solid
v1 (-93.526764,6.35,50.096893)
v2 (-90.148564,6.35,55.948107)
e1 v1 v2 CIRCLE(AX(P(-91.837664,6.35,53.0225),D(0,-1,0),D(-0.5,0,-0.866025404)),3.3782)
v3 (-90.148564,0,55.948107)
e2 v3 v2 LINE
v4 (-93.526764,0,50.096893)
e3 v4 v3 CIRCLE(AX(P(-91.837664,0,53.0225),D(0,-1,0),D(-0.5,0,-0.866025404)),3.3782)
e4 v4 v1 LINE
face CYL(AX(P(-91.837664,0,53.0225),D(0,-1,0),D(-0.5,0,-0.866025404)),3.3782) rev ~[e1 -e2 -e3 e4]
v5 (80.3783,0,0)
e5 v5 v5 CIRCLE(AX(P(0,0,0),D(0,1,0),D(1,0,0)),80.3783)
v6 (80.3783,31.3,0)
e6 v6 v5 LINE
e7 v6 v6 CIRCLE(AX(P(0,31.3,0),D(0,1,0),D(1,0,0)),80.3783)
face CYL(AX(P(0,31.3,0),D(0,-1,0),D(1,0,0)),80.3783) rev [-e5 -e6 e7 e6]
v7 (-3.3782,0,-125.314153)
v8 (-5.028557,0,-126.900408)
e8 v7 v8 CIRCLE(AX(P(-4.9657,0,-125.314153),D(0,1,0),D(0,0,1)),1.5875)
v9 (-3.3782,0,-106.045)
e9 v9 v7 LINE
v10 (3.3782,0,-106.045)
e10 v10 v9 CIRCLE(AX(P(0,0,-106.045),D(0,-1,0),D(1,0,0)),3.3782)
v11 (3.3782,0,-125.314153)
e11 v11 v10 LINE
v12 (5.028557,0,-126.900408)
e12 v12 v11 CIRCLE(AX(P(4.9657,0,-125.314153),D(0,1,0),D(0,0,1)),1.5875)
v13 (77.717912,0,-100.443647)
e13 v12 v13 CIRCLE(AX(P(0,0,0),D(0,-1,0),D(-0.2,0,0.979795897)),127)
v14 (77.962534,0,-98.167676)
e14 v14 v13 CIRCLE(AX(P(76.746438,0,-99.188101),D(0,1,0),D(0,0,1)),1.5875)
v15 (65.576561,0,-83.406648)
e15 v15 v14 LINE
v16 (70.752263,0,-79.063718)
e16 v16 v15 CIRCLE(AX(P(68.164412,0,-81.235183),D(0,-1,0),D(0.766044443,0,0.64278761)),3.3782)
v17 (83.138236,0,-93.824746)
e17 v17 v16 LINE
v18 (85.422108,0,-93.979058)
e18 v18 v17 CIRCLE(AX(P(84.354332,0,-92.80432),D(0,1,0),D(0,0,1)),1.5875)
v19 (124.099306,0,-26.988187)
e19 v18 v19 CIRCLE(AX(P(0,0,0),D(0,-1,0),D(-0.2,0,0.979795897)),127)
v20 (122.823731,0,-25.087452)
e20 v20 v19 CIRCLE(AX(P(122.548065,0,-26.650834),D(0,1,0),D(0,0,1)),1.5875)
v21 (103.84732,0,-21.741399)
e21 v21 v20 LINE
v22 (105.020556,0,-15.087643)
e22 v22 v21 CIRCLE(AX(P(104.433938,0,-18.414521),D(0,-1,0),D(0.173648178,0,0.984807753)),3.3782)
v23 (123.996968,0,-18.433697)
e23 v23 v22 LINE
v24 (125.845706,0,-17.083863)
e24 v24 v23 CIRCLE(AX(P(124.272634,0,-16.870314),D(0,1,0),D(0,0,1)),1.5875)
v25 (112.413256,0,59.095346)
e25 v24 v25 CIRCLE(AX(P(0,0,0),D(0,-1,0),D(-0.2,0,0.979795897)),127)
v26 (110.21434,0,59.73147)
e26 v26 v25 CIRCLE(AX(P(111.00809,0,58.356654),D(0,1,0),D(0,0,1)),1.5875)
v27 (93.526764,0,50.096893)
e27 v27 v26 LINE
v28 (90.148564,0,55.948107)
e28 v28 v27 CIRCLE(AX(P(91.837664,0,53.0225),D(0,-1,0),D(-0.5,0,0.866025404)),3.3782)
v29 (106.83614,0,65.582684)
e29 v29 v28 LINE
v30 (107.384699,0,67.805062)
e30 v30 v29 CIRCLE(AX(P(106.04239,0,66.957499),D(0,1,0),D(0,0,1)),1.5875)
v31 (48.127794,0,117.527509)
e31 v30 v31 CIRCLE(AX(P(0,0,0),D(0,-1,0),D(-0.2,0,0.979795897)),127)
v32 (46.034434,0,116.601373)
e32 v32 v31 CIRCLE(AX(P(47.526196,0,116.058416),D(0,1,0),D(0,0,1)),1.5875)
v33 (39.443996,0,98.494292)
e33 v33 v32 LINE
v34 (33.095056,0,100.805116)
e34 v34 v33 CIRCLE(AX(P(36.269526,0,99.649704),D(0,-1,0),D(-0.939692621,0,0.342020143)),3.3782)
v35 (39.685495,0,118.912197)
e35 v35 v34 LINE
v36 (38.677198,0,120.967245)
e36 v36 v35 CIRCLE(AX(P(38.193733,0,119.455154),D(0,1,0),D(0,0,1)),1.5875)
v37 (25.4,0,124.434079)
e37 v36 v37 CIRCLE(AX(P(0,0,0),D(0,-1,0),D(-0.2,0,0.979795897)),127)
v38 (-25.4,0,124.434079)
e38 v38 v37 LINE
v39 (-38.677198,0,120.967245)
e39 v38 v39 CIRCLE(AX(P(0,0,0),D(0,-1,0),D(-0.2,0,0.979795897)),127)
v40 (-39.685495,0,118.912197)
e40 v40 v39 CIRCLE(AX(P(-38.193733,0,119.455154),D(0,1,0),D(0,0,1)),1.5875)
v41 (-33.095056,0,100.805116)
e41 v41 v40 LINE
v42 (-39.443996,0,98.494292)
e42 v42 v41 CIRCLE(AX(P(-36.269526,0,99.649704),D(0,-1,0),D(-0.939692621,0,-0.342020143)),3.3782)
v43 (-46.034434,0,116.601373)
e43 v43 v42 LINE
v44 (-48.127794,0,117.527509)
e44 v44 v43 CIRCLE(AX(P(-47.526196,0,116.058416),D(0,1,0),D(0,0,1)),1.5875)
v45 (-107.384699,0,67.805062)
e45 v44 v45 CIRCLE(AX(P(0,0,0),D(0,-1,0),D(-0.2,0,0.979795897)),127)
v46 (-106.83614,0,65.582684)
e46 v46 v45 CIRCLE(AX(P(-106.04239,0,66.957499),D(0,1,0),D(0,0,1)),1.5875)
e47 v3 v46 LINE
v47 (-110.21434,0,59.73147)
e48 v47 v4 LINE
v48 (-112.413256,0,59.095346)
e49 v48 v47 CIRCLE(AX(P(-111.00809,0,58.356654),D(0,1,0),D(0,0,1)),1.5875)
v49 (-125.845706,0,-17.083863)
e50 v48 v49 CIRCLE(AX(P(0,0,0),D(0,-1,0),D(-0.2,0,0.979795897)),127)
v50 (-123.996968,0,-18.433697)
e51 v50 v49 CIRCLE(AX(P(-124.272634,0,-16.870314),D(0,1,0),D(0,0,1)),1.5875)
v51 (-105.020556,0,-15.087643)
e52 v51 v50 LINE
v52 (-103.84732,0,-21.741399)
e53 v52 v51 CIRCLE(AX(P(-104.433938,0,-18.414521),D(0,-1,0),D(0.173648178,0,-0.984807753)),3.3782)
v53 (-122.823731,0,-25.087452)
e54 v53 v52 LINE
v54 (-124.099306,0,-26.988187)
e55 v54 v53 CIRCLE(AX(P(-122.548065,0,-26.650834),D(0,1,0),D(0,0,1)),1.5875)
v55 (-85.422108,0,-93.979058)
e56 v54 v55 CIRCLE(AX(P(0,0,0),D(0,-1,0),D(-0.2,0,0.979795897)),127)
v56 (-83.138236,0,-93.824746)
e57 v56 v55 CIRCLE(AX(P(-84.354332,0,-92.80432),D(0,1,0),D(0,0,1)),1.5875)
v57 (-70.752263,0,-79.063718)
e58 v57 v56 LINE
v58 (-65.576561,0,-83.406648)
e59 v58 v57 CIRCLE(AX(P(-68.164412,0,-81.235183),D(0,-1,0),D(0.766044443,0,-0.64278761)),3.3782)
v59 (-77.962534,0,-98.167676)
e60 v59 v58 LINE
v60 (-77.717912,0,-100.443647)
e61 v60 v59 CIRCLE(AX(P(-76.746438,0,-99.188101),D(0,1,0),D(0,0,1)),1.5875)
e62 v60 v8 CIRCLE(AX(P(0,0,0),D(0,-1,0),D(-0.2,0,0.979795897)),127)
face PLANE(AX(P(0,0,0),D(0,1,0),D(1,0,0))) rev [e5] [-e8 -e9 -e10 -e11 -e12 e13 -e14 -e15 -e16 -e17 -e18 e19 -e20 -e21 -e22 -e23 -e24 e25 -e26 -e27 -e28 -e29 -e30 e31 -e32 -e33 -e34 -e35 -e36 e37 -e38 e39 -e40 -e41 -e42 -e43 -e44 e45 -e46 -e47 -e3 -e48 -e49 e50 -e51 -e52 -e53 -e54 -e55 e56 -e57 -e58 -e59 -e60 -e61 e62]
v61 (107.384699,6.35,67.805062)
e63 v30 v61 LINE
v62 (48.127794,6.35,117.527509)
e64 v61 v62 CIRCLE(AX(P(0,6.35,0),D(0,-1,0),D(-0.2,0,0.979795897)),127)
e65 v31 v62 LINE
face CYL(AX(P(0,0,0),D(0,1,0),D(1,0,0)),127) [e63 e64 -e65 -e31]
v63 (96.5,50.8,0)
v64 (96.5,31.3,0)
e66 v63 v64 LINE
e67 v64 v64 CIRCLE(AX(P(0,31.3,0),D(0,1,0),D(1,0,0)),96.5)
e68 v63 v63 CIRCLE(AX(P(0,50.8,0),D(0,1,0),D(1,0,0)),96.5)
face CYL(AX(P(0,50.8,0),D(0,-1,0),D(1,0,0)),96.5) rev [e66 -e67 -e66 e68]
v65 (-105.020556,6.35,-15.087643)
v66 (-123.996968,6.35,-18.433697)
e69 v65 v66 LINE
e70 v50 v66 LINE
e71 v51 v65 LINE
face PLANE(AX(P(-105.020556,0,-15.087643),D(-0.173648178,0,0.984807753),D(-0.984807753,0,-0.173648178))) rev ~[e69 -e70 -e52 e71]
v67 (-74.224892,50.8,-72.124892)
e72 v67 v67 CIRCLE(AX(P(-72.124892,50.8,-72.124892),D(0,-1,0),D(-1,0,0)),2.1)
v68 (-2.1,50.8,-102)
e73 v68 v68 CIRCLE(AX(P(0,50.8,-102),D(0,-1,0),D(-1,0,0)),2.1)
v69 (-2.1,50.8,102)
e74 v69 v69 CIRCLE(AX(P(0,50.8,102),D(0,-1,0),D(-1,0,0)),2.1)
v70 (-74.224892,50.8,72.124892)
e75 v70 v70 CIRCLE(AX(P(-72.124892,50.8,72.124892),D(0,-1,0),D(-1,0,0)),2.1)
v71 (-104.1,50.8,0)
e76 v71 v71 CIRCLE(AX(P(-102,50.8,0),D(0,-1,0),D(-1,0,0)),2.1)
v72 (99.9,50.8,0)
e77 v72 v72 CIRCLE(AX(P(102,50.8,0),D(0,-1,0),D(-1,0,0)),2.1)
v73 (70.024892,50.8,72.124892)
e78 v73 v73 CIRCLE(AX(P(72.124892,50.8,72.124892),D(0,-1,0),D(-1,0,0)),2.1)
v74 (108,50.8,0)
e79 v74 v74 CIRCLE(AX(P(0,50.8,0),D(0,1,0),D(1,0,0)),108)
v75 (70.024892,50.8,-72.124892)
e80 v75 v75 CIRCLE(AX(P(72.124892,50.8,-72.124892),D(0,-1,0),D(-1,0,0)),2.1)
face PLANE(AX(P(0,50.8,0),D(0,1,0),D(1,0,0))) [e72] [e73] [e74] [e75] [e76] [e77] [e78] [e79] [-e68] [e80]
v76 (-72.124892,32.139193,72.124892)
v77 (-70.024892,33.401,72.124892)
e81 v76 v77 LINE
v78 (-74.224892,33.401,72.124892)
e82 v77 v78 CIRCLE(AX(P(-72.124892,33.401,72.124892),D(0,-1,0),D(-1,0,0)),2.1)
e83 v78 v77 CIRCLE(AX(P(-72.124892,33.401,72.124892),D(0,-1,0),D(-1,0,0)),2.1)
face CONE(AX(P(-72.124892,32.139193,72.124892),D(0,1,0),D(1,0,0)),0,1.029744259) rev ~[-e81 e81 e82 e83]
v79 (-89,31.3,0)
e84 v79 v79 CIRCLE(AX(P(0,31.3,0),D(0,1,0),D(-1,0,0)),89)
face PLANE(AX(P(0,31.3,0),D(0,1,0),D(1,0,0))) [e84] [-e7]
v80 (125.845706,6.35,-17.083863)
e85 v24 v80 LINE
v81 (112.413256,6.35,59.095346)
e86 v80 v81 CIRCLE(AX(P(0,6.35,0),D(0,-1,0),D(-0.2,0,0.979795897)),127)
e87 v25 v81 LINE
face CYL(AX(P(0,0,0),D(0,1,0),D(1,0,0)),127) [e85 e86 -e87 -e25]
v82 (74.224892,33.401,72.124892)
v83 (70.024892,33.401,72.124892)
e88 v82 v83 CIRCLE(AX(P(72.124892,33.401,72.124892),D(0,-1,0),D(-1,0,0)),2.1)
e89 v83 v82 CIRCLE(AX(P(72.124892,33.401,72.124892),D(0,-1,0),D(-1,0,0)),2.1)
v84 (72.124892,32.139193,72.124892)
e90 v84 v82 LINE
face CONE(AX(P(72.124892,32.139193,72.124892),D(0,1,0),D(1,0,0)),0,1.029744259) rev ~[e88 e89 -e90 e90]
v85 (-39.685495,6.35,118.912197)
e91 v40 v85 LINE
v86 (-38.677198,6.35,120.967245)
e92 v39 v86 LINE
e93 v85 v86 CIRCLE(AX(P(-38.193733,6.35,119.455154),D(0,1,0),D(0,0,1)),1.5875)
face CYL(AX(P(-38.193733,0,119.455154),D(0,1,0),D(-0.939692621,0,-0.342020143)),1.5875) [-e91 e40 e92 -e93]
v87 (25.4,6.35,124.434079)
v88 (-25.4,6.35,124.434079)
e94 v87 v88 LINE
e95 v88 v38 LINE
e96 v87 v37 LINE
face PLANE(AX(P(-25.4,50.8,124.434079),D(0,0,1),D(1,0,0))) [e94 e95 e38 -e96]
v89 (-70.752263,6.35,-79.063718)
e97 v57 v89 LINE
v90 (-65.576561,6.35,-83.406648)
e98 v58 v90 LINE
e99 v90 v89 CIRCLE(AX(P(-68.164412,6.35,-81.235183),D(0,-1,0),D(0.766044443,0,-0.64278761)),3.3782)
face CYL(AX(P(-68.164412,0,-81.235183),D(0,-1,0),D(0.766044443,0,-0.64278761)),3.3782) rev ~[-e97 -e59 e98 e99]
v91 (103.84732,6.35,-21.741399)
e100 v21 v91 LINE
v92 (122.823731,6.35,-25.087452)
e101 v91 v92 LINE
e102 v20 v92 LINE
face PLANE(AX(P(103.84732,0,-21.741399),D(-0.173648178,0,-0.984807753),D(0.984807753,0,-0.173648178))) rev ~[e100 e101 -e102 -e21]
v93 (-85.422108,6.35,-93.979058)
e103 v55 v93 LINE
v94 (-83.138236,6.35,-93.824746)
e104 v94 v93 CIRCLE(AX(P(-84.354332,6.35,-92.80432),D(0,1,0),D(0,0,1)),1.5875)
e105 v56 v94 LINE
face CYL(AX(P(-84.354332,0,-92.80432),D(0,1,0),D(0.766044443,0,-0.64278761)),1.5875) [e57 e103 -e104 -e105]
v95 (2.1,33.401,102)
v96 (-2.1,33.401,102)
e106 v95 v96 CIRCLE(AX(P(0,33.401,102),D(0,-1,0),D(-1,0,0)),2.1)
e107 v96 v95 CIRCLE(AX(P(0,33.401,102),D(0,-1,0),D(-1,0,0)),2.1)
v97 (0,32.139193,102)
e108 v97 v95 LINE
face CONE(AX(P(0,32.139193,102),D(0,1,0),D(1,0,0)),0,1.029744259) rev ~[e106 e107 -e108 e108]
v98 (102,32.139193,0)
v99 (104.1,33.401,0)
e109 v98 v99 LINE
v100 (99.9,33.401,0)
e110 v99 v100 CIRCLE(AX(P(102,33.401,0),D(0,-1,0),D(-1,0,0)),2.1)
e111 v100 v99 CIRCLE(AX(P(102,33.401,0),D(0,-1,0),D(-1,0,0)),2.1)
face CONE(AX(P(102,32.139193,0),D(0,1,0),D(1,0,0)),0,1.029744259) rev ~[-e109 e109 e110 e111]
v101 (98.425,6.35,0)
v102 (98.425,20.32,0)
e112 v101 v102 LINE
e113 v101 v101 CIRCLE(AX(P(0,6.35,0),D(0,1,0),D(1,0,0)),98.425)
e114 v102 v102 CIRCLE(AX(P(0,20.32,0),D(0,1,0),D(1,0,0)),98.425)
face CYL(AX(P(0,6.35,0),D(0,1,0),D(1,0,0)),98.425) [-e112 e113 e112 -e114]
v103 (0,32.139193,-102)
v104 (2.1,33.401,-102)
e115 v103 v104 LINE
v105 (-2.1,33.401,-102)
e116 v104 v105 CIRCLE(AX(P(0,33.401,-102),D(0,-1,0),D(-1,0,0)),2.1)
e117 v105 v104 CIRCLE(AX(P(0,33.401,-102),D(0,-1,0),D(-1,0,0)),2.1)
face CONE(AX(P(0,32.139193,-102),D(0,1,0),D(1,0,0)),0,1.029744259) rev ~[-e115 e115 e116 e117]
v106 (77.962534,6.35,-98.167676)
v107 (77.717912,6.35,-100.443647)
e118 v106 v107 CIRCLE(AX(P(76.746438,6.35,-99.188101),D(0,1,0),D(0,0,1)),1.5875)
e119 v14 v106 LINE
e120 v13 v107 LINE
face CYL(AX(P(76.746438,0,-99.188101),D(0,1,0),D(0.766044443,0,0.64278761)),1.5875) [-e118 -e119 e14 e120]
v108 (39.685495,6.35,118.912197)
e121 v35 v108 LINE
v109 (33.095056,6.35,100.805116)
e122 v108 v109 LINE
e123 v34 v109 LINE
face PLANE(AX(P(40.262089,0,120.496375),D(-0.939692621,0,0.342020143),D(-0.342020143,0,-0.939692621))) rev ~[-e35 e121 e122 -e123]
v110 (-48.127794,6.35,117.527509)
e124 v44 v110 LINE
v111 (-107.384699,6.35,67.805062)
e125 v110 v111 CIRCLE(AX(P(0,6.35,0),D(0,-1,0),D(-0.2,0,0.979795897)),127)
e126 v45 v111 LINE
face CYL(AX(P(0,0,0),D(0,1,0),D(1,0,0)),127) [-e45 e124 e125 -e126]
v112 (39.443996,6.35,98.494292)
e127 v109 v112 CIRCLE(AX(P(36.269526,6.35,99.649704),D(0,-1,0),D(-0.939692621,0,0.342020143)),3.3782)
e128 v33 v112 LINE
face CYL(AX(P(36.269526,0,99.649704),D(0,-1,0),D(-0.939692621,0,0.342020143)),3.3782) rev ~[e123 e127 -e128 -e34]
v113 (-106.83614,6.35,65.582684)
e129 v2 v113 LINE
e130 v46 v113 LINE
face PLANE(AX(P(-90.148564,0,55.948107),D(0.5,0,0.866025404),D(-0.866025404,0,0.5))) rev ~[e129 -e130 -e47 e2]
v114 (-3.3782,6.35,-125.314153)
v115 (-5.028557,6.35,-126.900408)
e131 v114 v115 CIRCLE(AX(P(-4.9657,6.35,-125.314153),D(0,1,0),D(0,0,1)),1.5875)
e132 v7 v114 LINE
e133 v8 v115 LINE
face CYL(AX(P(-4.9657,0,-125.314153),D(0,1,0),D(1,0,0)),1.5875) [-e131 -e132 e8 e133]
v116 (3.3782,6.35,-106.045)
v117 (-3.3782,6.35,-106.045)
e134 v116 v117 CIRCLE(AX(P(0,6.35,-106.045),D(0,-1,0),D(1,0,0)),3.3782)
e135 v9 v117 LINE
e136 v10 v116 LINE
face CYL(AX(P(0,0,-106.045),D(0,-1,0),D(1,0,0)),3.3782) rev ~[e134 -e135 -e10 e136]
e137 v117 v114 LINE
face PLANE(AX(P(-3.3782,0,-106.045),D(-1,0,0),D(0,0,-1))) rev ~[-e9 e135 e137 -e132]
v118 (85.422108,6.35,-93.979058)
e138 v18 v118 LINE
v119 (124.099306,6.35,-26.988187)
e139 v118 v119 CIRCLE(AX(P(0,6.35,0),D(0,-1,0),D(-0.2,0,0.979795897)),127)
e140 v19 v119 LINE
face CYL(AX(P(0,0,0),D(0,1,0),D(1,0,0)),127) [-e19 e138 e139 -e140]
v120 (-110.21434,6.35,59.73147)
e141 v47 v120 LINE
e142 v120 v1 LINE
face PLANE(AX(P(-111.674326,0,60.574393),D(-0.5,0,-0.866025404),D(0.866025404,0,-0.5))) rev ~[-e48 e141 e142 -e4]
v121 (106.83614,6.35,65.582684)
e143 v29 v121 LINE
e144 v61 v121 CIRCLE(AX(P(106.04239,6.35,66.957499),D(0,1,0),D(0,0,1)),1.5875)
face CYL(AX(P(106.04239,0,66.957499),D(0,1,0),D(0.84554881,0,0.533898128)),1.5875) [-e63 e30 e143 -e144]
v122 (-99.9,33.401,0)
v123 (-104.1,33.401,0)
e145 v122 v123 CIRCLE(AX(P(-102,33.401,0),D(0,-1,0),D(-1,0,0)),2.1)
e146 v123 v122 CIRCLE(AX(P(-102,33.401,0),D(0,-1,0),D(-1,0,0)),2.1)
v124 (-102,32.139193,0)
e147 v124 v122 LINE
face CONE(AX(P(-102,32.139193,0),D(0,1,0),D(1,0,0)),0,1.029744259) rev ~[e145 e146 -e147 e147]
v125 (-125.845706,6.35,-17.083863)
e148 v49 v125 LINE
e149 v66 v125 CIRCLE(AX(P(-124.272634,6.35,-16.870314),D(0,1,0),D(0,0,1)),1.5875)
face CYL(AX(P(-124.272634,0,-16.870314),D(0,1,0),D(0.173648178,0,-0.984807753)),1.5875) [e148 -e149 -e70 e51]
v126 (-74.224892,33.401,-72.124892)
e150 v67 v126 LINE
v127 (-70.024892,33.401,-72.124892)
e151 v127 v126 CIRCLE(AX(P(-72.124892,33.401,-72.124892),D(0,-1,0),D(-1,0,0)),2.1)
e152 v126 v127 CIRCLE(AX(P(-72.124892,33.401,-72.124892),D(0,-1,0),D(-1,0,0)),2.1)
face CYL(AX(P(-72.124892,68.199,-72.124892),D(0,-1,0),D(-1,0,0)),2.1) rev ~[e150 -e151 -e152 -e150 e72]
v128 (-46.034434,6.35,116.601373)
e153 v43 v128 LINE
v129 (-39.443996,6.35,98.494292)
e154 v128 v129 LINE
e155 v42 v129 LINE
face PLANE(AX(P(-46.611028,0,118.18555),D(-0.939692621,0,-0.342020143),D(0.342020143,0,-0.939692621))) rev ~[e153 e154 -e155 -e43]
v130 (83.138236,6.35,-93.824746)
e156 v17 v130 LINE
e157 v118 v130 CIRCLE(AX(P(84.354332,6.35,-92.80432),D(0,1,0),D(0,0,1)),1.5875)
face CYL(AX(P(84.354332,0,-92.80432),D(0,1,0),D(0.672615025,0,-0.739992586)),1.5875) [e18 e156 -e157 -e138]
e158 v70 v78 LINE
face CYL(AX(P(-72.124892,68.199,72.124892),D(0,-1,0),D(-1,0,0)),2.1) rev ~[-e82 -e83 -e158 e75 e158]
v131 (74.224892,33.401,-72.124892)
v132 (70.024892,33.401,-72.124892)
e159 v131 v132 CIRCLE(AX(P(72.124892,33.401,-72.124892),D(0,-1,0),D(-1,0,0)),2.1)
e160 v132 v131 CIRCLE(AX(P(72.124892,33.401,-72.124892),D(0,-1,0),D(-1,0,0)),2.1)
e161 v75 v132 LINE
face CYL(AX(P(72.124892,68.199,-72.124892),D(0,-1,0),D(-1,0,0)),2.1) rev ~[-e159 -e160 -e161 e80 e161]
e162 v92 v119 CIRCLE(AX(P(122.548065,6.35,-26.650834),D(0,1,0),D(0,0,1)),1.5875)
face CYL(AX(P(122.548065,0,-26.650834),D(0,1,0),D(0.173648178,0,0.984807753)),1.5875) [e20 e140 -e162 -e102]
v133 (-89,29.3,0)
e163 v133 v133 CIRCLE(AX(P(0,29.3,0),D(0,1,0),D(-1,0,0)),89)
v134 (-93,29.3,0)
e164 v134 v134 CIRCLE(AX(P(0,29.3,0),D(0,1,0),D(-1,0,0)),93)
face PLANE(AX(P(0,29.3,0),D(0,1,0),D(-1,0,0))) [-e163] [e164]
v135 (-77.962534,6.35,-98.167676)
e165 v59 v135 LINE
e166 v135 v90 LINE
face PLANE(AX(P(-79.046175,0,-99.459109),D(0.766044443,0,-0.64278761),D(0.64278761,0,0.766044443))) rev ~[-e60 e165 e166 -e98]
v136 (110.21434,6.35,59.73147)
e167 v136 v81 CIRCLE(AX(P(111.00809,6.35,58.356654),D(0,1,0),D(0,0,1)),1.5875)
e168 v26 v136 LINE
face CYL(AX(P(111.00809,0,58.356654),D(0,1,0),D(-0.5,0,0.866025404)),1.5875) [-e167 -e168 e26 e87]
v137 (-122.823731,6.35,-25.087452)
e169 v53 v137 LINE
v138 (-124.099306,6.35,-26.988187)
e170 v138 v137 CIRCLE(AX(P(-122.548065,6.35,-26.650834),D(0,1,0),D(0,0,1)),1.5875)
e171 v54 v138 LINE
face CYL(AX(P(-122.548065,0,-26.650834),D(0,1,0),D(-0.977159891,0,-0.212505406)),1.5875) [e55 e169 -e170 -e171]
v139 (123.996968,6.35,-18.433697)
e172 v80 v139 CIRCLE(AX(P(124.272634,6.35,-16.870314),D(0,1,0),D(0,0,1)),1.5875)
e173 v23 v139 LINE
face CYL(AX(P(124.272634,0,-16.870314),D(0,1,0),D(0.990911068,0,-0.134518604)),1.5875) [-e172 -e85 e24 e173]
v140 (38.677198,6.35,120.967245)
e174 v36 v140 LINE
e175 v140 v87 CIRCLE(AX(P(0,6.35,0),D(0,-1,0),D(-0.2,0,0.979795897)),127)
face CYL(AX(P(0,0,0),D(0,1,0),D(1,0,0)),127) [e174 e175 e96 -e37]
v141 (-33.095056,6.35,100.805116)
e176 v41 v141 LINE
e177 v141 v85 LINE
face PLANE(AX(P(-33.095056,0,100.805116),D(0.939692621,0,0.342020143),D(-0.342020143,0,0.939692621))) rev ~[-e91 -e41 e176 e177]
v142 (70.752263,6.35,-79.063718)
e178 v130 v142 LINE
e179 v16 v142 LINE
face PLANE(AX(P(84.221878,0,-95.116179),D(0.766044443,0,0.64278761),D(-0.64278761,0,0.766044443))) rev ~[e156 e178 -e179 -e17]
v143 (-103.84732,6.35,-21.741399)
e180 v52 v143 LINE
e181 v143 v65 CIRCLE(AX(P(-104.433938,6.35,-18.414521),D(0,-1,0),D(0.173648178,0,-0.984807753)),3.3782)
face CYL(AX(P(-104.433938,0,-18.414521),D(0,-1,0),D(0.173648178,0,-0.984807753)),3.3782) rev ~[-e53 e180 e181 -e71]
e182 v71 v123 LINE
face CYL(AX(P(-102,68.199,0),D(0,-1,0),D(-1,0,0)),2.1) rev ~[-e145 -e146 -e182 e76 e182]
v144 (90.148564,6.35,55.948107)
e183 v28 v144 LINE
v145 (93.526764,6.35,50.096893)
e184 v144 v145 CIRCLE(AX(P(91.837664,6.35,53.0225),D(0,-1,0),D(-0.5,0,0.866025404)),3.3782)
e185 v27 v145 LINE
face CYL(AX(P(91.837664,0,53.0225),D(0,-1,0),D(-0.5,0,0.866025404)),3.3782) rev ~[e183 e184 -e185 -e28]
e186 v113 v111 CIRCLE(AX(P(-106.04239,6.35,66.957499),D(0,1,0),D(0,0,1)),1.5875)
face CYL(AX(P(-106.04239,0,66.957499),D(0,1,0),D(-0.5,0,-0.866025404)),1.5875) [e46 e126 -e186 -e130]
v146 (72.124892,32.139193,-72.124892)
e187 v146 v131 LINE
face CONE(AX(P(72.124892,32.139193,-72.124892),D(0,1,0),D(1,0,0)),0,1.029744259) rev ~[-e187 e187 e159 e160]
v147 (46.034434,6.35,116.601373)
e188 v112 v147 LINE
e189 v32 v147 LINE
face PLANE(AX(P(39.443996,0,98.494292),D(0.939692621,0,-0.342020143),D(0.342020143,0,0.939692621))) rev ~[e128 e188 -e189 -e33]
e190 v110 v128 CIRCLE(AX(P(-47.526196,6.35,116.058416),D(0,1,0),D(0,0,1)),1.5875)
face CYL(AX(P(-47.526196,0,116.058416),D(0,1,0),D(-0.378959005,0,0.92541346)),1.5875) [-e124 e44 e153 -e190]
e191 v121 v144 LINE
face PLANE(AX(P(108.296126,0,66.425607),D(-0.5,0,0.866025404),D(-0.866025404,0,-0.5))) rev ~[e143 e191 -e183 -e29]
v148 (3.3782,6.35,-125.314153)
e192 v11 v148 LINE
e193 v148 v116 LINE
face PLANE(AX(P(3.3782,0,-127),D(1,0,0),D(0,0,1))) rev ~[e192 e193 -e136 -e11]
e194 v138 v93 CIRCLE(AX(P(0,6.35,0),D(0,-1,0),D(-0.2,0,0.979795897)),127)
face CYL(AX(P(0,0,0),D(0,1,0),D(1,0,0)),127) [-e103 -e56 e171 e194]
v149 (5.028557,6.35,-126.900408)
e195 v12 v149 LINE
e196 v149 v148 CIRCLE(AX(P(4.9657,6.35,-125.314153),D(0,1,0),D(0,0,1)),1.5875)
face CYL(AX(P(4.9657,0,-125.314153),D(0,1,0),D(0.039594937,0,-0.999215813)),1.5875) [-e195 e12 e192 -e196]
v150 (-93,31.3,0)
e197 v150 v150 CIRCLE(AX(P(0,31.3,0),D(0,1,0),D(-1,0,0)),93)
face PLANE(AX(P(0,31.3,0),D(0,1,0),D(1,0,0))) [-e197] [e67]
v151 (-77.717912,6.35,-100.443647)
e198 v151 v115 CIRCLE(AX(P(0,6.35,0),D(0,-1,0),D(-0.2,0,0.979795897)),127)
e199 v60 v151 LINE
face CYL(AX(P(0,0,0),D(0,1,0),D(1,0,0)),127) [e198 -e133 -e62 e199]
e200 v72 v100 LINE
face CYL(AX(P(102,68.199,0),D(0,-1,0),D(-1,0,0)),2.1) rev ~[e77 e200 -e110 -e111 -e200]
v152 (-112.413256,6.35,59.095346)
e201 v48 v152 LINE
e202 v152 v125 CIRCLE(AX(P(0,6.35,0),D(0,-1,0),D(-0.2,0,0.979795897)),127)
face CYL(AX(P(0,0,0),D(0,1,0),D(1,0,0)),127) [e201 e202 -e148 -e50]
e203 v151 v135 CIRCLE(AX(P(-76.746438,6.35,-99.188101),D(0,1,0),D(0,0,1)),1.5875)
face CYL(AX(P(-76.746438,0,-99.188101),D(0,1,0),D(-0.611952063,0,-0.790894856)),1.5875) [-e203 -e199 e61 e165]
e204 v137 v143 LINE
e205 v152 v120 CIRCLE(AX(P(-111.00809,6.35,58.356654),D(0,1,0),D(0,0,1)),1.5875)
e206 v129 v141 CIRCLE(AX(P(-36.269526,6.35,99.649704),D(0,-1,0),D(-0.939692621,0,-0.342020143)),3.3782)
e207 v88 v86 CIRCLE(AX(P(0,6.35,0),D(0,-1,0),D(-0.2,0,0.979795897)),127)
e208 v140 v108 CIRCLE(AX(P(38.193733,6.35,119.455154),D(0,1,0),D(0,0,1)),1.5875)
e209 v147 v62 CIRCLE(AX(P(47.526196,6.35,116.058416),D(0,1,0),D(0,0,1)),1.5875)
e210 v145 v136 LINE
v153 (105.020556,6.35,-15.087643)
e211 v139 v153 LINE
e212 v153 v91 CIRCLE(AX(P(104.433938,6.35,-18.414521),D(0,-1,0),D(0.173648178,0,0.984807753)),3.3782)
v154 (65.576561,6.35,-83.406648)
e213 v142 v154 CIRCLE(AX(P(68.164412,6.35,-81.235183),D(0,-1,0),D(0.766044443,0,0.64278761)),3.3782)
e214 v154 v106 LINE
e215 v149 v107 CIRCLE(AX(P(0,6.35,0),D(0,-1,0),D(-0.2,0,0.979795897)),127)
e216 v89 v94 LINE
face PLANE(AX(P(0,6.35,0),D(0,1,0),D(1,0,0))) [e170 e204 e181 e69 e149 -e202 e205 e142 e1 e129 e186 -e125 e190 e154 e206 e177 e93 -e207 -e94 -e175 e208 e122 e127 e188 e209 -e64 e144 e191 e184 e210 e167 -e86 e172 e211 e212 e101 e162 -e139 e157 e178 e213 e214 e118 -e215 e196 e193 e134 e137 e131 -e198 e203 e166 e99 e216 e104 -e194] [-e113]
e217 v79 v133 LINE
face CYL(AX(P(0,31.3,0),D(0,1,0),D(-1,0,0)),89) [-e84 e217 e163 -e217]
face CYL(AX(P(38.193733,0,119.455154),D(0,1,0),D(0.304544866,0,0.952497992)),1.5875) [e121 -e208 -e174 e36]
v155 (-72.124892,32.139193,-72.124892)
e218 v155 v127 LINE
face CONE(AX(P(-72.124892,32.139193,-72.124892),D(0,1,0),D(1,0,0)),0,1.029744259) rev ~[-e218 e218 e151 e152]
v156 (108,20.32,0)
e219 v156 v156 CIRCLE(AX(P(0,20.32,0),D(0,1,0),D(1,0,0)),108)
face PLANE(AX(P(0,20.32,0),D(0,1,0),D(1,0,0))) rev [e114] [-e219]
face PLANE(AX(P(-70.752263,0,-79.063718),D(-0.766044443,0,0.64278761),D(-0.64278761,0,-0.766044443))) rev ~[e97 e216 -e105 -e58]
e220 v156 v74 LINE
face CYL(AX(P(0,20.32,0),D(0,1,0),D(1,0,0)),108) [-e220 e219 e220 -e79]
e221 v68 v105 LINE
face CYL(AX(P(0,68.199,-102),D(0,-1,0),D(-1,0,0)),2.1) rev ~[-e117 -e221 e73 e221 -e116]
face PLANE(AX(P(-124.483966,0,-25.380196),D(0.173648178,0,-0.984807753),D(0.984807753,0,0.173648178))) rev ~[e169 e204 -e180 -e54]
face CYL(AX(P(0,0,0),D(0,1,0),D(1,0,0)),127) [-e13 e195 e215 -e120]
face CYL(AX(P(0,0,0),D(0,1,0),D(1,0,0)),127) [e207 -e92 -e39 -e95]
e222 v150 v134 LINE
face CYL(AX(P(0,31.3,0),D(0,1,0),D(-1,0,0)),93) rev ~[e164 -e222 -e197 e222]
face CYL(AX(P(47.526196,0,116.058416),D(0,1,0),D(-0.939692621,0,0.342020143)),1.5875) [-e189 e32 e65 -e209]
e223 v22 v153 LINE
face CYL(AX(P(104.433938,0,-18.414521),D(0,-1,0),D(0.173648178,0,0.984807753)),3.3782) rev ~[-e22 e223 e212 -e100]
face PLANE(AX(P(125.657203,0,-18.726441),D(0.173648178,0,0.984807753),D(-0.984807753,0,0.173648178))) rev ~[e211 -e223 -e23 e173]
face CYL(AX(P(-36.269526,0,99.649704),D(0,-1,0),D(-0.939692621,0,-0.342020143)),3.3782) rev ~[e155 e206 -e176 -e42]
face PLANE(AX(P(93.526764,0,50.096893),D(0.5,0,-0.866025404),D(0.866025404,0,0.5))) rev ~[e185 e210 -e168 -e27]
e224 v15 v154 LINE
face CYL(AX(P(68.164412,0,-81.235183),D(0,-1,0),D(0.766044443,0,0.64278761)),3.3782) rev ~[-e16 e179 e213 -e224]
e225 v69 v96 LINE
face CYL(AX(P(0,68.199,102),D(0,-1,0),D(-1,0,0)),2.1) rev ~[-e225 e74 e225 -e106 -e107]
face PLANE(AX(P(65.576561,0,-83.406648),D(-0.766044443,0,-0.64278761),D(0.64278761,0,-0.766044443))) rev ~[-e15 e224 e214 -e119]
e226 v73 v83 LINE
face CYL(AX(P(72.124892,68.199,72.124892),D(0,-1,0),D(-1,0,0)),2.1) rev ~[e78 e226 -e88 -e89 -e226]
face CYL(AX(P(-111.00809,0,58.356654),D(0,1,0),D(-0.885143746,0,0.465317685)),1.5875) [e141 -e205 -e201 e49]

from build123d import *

# Parameters (mm, degrees)
M5X0_8_TAPPED_HOLE1_D     = 4.2
M5X0_8_TAPPED_HOLE1_DEPTH = 17.399
M5X0_8_TAPPED_HOLE1_TIP   = 1.2618073
CUT_EXTRUDE1_REACH        = 188.651
SKETCH7_W                 = 50.8
SKETCH7_H                 = 2.565921067
CUT_EXTRUDE2_REACH        = 188.651
FILLET1_R                 = 1.5875
CIRPATTERN1_COUNT         = 9
FILLET1_OF_CIRPATTERN1_R  = 1.5875
SKETCH11_R                = 93
SKETCH11_R_2              = 89
CUT_EXTRUDE3_DEPTH        = 2


with BuildPart() as part:
    # Sketch1 → Revolve1 (revolve)
    with BuildSketch(Plane.XY):
        Polygon((80.3783, 0), (127, 0), (127, 6.35), (98.425, 6.35), (98.425, 20.32), (108, 20.32), (108, 50.8), (96.5, 50.8), (96.5, 31.3), (80.3783, 31.3), align=None)
    revolve(axis=Axis((0, 0, 0), (0, 1, 0)))

    # M5x0.8 Tapped Hole1
    with Locations(Plane(origin=(0, 50.8, 0), x_dir=(1, 0, 0), z_dir=(0, 1, 0))):
        with Locations((0, 102), (72.124891681, 72.124891681), (102, 0), (72.124891681, -72.124891681), (0, -102), (-72.124891681, -72.124891681), (-102, 0), (-72.124891681, 72.124891681)):
            Hole(M5X0_8_TAPPED_HOLE1_D / 2, depth=M5X0_8_TAPPED_HOLE1_DEPTH)
            with Locations((0, 0, -(M5X0_8_TAPPED_HOLE1_DEPTH + M5X0_8_TAPPED_HOLE1_TIP / 2))):  # 118° drill point
                Cone(0, M5X0_8_TAPPED_HOLE1_D / 2, M5X0_8_TAPPED_HOLE1_TIP, mode=Mode.SUBTRACT)

    # Sketch7 → Cut-Extrude1 (cut, up to next)
    with BuildSketch(Plane(origin=(0, 50.8, 0), x_dir=(1, 0, 0), z_dir=(0, 1, 0)), mode=Mode.PRIVATE) as cut_extrude1_sk1:
        with Locations((0, -125.717039467)):
            Rectangle(SKETCH7_W, SKETCH7_H)
    cut_extrude1_tool1 = extrude(cut_extrude1_sk1.sketch, amount=-CUT_EXTRUDE1_REACH, mode=Mode.PRIVATE) & part.part
    add(cut_extrude1_tool1.solids().sort_by_distance((0, 50.8, 125.717039))[0], mode=Mode.SUBTRACT)

    # Sketch10 → Cut-Extrude2 (cut, up to next)
    with BuildSketch(Plane.XZ, mode=Mode.PRIVATE) as cut_extrude2_sk1:
        with BuildLine():
            Line((-3.3782, -106.045), (-3.3782, -127))
            Line((-3.3782, -127), (3.3782, -127))
            Line((3.3782, -127), (3.3782, -106.045))
            ThreePointArc((3.3782, -106.045), (0, -102.6668), (-3.3782, -106.045))
        make_face()
    cut_extrude2_tool1 = extrude(cut_extrude2_sk1.sketch, amount=-CUT_EXTRUDE2_REACH, mode=Mode.PRIVATE) & part.part
    cut_extrude2 = cut_extrude2_tool1.solids().sort_by_distance((0, 0, -115.183843))[0]
    add(cut_extrude2, mode=Mode.SUBTRACT)

    # Fillet1
    fillet1_edges = [part.edges().sort_by_distance(p)[0] for p in [
        (-3.3782, 3.175, -126.95506199),
        (3.3782, 3.175, -126.95506199),
    ]]
    fillet(fillet1_edges, radius=FILLET1_R)

    # CirPattern1: Cut-Extrude2 ×9 about axis
    cirpattern1_axis = Axis((0, 0, 0), (0, 1, 0))
    for i in range(1, CIRPATTERN1_COUNT):
        add(cut_extrude2.rotate(cirpattern1_axis, i * 360 / CIRPATTERN1_COUNT), mode=Mode.SUBTRACT)

    # Fillet1 of CirPattern1
    fillet1_of_cirpattern1_edges = [part.edges().sort_by_distance(p)[0] for p in [
        (-84.192992172, 3.175, -95.08175466),
        (-79.017289496, 3.175, -99.424684866),
        (-125.612947605, 3.175, -18.718637609),
        (-124.439711058, 3.175, -25.372392711),
        (-108.257208822, 3.175, 66.403138014),
        (-111.635408822, 3.175, 60.551923976),
        (-40.246718886, 3.175, 120.454147371),
        (-46.595658109, 3.175, 118.143322475),
        (46.595658109, 3.175, 118.143322475),
        (40.246718886, 3.175, 120.454147371),
        (111.635408822, 3.175, 60.551923976),
        (108.257208822, 3.175, 66.403138014),
        (124.439711058, 3.175, -25.372392711),
        (125.612947605, 3.175, -18.718637609),
        (79.017289496, 3.175, -99.424684866),
        (84.192992172, 3.175, -95.08175466),
    ]]
    fillet(fillet1_of_cirpattern1_edges, radius=FILLET1_OF_CIRPATTERN1_R)

    # Sketch11 → Cut-Extrude3 (cut)
    with BuildSketch(Plane(origin=(0, 31.3, 0), x_dir=(1, 0, 0), z_dir=(0, 1, 0))):
        with Locations(Location((0, 0, 0), (0, 0, 180))):
            Circle(SKETCH11_R)
        with Locations(Location((0, 0, 0), (0, 0, 180))):
            Circle(SKETCH11_R_2, mode=Mode.SUBTRACT)
    extrude(amount=-CUT_EXTRUDE3_DEPTH, mode=Mode.SUBTRACT)


solid = part.part
